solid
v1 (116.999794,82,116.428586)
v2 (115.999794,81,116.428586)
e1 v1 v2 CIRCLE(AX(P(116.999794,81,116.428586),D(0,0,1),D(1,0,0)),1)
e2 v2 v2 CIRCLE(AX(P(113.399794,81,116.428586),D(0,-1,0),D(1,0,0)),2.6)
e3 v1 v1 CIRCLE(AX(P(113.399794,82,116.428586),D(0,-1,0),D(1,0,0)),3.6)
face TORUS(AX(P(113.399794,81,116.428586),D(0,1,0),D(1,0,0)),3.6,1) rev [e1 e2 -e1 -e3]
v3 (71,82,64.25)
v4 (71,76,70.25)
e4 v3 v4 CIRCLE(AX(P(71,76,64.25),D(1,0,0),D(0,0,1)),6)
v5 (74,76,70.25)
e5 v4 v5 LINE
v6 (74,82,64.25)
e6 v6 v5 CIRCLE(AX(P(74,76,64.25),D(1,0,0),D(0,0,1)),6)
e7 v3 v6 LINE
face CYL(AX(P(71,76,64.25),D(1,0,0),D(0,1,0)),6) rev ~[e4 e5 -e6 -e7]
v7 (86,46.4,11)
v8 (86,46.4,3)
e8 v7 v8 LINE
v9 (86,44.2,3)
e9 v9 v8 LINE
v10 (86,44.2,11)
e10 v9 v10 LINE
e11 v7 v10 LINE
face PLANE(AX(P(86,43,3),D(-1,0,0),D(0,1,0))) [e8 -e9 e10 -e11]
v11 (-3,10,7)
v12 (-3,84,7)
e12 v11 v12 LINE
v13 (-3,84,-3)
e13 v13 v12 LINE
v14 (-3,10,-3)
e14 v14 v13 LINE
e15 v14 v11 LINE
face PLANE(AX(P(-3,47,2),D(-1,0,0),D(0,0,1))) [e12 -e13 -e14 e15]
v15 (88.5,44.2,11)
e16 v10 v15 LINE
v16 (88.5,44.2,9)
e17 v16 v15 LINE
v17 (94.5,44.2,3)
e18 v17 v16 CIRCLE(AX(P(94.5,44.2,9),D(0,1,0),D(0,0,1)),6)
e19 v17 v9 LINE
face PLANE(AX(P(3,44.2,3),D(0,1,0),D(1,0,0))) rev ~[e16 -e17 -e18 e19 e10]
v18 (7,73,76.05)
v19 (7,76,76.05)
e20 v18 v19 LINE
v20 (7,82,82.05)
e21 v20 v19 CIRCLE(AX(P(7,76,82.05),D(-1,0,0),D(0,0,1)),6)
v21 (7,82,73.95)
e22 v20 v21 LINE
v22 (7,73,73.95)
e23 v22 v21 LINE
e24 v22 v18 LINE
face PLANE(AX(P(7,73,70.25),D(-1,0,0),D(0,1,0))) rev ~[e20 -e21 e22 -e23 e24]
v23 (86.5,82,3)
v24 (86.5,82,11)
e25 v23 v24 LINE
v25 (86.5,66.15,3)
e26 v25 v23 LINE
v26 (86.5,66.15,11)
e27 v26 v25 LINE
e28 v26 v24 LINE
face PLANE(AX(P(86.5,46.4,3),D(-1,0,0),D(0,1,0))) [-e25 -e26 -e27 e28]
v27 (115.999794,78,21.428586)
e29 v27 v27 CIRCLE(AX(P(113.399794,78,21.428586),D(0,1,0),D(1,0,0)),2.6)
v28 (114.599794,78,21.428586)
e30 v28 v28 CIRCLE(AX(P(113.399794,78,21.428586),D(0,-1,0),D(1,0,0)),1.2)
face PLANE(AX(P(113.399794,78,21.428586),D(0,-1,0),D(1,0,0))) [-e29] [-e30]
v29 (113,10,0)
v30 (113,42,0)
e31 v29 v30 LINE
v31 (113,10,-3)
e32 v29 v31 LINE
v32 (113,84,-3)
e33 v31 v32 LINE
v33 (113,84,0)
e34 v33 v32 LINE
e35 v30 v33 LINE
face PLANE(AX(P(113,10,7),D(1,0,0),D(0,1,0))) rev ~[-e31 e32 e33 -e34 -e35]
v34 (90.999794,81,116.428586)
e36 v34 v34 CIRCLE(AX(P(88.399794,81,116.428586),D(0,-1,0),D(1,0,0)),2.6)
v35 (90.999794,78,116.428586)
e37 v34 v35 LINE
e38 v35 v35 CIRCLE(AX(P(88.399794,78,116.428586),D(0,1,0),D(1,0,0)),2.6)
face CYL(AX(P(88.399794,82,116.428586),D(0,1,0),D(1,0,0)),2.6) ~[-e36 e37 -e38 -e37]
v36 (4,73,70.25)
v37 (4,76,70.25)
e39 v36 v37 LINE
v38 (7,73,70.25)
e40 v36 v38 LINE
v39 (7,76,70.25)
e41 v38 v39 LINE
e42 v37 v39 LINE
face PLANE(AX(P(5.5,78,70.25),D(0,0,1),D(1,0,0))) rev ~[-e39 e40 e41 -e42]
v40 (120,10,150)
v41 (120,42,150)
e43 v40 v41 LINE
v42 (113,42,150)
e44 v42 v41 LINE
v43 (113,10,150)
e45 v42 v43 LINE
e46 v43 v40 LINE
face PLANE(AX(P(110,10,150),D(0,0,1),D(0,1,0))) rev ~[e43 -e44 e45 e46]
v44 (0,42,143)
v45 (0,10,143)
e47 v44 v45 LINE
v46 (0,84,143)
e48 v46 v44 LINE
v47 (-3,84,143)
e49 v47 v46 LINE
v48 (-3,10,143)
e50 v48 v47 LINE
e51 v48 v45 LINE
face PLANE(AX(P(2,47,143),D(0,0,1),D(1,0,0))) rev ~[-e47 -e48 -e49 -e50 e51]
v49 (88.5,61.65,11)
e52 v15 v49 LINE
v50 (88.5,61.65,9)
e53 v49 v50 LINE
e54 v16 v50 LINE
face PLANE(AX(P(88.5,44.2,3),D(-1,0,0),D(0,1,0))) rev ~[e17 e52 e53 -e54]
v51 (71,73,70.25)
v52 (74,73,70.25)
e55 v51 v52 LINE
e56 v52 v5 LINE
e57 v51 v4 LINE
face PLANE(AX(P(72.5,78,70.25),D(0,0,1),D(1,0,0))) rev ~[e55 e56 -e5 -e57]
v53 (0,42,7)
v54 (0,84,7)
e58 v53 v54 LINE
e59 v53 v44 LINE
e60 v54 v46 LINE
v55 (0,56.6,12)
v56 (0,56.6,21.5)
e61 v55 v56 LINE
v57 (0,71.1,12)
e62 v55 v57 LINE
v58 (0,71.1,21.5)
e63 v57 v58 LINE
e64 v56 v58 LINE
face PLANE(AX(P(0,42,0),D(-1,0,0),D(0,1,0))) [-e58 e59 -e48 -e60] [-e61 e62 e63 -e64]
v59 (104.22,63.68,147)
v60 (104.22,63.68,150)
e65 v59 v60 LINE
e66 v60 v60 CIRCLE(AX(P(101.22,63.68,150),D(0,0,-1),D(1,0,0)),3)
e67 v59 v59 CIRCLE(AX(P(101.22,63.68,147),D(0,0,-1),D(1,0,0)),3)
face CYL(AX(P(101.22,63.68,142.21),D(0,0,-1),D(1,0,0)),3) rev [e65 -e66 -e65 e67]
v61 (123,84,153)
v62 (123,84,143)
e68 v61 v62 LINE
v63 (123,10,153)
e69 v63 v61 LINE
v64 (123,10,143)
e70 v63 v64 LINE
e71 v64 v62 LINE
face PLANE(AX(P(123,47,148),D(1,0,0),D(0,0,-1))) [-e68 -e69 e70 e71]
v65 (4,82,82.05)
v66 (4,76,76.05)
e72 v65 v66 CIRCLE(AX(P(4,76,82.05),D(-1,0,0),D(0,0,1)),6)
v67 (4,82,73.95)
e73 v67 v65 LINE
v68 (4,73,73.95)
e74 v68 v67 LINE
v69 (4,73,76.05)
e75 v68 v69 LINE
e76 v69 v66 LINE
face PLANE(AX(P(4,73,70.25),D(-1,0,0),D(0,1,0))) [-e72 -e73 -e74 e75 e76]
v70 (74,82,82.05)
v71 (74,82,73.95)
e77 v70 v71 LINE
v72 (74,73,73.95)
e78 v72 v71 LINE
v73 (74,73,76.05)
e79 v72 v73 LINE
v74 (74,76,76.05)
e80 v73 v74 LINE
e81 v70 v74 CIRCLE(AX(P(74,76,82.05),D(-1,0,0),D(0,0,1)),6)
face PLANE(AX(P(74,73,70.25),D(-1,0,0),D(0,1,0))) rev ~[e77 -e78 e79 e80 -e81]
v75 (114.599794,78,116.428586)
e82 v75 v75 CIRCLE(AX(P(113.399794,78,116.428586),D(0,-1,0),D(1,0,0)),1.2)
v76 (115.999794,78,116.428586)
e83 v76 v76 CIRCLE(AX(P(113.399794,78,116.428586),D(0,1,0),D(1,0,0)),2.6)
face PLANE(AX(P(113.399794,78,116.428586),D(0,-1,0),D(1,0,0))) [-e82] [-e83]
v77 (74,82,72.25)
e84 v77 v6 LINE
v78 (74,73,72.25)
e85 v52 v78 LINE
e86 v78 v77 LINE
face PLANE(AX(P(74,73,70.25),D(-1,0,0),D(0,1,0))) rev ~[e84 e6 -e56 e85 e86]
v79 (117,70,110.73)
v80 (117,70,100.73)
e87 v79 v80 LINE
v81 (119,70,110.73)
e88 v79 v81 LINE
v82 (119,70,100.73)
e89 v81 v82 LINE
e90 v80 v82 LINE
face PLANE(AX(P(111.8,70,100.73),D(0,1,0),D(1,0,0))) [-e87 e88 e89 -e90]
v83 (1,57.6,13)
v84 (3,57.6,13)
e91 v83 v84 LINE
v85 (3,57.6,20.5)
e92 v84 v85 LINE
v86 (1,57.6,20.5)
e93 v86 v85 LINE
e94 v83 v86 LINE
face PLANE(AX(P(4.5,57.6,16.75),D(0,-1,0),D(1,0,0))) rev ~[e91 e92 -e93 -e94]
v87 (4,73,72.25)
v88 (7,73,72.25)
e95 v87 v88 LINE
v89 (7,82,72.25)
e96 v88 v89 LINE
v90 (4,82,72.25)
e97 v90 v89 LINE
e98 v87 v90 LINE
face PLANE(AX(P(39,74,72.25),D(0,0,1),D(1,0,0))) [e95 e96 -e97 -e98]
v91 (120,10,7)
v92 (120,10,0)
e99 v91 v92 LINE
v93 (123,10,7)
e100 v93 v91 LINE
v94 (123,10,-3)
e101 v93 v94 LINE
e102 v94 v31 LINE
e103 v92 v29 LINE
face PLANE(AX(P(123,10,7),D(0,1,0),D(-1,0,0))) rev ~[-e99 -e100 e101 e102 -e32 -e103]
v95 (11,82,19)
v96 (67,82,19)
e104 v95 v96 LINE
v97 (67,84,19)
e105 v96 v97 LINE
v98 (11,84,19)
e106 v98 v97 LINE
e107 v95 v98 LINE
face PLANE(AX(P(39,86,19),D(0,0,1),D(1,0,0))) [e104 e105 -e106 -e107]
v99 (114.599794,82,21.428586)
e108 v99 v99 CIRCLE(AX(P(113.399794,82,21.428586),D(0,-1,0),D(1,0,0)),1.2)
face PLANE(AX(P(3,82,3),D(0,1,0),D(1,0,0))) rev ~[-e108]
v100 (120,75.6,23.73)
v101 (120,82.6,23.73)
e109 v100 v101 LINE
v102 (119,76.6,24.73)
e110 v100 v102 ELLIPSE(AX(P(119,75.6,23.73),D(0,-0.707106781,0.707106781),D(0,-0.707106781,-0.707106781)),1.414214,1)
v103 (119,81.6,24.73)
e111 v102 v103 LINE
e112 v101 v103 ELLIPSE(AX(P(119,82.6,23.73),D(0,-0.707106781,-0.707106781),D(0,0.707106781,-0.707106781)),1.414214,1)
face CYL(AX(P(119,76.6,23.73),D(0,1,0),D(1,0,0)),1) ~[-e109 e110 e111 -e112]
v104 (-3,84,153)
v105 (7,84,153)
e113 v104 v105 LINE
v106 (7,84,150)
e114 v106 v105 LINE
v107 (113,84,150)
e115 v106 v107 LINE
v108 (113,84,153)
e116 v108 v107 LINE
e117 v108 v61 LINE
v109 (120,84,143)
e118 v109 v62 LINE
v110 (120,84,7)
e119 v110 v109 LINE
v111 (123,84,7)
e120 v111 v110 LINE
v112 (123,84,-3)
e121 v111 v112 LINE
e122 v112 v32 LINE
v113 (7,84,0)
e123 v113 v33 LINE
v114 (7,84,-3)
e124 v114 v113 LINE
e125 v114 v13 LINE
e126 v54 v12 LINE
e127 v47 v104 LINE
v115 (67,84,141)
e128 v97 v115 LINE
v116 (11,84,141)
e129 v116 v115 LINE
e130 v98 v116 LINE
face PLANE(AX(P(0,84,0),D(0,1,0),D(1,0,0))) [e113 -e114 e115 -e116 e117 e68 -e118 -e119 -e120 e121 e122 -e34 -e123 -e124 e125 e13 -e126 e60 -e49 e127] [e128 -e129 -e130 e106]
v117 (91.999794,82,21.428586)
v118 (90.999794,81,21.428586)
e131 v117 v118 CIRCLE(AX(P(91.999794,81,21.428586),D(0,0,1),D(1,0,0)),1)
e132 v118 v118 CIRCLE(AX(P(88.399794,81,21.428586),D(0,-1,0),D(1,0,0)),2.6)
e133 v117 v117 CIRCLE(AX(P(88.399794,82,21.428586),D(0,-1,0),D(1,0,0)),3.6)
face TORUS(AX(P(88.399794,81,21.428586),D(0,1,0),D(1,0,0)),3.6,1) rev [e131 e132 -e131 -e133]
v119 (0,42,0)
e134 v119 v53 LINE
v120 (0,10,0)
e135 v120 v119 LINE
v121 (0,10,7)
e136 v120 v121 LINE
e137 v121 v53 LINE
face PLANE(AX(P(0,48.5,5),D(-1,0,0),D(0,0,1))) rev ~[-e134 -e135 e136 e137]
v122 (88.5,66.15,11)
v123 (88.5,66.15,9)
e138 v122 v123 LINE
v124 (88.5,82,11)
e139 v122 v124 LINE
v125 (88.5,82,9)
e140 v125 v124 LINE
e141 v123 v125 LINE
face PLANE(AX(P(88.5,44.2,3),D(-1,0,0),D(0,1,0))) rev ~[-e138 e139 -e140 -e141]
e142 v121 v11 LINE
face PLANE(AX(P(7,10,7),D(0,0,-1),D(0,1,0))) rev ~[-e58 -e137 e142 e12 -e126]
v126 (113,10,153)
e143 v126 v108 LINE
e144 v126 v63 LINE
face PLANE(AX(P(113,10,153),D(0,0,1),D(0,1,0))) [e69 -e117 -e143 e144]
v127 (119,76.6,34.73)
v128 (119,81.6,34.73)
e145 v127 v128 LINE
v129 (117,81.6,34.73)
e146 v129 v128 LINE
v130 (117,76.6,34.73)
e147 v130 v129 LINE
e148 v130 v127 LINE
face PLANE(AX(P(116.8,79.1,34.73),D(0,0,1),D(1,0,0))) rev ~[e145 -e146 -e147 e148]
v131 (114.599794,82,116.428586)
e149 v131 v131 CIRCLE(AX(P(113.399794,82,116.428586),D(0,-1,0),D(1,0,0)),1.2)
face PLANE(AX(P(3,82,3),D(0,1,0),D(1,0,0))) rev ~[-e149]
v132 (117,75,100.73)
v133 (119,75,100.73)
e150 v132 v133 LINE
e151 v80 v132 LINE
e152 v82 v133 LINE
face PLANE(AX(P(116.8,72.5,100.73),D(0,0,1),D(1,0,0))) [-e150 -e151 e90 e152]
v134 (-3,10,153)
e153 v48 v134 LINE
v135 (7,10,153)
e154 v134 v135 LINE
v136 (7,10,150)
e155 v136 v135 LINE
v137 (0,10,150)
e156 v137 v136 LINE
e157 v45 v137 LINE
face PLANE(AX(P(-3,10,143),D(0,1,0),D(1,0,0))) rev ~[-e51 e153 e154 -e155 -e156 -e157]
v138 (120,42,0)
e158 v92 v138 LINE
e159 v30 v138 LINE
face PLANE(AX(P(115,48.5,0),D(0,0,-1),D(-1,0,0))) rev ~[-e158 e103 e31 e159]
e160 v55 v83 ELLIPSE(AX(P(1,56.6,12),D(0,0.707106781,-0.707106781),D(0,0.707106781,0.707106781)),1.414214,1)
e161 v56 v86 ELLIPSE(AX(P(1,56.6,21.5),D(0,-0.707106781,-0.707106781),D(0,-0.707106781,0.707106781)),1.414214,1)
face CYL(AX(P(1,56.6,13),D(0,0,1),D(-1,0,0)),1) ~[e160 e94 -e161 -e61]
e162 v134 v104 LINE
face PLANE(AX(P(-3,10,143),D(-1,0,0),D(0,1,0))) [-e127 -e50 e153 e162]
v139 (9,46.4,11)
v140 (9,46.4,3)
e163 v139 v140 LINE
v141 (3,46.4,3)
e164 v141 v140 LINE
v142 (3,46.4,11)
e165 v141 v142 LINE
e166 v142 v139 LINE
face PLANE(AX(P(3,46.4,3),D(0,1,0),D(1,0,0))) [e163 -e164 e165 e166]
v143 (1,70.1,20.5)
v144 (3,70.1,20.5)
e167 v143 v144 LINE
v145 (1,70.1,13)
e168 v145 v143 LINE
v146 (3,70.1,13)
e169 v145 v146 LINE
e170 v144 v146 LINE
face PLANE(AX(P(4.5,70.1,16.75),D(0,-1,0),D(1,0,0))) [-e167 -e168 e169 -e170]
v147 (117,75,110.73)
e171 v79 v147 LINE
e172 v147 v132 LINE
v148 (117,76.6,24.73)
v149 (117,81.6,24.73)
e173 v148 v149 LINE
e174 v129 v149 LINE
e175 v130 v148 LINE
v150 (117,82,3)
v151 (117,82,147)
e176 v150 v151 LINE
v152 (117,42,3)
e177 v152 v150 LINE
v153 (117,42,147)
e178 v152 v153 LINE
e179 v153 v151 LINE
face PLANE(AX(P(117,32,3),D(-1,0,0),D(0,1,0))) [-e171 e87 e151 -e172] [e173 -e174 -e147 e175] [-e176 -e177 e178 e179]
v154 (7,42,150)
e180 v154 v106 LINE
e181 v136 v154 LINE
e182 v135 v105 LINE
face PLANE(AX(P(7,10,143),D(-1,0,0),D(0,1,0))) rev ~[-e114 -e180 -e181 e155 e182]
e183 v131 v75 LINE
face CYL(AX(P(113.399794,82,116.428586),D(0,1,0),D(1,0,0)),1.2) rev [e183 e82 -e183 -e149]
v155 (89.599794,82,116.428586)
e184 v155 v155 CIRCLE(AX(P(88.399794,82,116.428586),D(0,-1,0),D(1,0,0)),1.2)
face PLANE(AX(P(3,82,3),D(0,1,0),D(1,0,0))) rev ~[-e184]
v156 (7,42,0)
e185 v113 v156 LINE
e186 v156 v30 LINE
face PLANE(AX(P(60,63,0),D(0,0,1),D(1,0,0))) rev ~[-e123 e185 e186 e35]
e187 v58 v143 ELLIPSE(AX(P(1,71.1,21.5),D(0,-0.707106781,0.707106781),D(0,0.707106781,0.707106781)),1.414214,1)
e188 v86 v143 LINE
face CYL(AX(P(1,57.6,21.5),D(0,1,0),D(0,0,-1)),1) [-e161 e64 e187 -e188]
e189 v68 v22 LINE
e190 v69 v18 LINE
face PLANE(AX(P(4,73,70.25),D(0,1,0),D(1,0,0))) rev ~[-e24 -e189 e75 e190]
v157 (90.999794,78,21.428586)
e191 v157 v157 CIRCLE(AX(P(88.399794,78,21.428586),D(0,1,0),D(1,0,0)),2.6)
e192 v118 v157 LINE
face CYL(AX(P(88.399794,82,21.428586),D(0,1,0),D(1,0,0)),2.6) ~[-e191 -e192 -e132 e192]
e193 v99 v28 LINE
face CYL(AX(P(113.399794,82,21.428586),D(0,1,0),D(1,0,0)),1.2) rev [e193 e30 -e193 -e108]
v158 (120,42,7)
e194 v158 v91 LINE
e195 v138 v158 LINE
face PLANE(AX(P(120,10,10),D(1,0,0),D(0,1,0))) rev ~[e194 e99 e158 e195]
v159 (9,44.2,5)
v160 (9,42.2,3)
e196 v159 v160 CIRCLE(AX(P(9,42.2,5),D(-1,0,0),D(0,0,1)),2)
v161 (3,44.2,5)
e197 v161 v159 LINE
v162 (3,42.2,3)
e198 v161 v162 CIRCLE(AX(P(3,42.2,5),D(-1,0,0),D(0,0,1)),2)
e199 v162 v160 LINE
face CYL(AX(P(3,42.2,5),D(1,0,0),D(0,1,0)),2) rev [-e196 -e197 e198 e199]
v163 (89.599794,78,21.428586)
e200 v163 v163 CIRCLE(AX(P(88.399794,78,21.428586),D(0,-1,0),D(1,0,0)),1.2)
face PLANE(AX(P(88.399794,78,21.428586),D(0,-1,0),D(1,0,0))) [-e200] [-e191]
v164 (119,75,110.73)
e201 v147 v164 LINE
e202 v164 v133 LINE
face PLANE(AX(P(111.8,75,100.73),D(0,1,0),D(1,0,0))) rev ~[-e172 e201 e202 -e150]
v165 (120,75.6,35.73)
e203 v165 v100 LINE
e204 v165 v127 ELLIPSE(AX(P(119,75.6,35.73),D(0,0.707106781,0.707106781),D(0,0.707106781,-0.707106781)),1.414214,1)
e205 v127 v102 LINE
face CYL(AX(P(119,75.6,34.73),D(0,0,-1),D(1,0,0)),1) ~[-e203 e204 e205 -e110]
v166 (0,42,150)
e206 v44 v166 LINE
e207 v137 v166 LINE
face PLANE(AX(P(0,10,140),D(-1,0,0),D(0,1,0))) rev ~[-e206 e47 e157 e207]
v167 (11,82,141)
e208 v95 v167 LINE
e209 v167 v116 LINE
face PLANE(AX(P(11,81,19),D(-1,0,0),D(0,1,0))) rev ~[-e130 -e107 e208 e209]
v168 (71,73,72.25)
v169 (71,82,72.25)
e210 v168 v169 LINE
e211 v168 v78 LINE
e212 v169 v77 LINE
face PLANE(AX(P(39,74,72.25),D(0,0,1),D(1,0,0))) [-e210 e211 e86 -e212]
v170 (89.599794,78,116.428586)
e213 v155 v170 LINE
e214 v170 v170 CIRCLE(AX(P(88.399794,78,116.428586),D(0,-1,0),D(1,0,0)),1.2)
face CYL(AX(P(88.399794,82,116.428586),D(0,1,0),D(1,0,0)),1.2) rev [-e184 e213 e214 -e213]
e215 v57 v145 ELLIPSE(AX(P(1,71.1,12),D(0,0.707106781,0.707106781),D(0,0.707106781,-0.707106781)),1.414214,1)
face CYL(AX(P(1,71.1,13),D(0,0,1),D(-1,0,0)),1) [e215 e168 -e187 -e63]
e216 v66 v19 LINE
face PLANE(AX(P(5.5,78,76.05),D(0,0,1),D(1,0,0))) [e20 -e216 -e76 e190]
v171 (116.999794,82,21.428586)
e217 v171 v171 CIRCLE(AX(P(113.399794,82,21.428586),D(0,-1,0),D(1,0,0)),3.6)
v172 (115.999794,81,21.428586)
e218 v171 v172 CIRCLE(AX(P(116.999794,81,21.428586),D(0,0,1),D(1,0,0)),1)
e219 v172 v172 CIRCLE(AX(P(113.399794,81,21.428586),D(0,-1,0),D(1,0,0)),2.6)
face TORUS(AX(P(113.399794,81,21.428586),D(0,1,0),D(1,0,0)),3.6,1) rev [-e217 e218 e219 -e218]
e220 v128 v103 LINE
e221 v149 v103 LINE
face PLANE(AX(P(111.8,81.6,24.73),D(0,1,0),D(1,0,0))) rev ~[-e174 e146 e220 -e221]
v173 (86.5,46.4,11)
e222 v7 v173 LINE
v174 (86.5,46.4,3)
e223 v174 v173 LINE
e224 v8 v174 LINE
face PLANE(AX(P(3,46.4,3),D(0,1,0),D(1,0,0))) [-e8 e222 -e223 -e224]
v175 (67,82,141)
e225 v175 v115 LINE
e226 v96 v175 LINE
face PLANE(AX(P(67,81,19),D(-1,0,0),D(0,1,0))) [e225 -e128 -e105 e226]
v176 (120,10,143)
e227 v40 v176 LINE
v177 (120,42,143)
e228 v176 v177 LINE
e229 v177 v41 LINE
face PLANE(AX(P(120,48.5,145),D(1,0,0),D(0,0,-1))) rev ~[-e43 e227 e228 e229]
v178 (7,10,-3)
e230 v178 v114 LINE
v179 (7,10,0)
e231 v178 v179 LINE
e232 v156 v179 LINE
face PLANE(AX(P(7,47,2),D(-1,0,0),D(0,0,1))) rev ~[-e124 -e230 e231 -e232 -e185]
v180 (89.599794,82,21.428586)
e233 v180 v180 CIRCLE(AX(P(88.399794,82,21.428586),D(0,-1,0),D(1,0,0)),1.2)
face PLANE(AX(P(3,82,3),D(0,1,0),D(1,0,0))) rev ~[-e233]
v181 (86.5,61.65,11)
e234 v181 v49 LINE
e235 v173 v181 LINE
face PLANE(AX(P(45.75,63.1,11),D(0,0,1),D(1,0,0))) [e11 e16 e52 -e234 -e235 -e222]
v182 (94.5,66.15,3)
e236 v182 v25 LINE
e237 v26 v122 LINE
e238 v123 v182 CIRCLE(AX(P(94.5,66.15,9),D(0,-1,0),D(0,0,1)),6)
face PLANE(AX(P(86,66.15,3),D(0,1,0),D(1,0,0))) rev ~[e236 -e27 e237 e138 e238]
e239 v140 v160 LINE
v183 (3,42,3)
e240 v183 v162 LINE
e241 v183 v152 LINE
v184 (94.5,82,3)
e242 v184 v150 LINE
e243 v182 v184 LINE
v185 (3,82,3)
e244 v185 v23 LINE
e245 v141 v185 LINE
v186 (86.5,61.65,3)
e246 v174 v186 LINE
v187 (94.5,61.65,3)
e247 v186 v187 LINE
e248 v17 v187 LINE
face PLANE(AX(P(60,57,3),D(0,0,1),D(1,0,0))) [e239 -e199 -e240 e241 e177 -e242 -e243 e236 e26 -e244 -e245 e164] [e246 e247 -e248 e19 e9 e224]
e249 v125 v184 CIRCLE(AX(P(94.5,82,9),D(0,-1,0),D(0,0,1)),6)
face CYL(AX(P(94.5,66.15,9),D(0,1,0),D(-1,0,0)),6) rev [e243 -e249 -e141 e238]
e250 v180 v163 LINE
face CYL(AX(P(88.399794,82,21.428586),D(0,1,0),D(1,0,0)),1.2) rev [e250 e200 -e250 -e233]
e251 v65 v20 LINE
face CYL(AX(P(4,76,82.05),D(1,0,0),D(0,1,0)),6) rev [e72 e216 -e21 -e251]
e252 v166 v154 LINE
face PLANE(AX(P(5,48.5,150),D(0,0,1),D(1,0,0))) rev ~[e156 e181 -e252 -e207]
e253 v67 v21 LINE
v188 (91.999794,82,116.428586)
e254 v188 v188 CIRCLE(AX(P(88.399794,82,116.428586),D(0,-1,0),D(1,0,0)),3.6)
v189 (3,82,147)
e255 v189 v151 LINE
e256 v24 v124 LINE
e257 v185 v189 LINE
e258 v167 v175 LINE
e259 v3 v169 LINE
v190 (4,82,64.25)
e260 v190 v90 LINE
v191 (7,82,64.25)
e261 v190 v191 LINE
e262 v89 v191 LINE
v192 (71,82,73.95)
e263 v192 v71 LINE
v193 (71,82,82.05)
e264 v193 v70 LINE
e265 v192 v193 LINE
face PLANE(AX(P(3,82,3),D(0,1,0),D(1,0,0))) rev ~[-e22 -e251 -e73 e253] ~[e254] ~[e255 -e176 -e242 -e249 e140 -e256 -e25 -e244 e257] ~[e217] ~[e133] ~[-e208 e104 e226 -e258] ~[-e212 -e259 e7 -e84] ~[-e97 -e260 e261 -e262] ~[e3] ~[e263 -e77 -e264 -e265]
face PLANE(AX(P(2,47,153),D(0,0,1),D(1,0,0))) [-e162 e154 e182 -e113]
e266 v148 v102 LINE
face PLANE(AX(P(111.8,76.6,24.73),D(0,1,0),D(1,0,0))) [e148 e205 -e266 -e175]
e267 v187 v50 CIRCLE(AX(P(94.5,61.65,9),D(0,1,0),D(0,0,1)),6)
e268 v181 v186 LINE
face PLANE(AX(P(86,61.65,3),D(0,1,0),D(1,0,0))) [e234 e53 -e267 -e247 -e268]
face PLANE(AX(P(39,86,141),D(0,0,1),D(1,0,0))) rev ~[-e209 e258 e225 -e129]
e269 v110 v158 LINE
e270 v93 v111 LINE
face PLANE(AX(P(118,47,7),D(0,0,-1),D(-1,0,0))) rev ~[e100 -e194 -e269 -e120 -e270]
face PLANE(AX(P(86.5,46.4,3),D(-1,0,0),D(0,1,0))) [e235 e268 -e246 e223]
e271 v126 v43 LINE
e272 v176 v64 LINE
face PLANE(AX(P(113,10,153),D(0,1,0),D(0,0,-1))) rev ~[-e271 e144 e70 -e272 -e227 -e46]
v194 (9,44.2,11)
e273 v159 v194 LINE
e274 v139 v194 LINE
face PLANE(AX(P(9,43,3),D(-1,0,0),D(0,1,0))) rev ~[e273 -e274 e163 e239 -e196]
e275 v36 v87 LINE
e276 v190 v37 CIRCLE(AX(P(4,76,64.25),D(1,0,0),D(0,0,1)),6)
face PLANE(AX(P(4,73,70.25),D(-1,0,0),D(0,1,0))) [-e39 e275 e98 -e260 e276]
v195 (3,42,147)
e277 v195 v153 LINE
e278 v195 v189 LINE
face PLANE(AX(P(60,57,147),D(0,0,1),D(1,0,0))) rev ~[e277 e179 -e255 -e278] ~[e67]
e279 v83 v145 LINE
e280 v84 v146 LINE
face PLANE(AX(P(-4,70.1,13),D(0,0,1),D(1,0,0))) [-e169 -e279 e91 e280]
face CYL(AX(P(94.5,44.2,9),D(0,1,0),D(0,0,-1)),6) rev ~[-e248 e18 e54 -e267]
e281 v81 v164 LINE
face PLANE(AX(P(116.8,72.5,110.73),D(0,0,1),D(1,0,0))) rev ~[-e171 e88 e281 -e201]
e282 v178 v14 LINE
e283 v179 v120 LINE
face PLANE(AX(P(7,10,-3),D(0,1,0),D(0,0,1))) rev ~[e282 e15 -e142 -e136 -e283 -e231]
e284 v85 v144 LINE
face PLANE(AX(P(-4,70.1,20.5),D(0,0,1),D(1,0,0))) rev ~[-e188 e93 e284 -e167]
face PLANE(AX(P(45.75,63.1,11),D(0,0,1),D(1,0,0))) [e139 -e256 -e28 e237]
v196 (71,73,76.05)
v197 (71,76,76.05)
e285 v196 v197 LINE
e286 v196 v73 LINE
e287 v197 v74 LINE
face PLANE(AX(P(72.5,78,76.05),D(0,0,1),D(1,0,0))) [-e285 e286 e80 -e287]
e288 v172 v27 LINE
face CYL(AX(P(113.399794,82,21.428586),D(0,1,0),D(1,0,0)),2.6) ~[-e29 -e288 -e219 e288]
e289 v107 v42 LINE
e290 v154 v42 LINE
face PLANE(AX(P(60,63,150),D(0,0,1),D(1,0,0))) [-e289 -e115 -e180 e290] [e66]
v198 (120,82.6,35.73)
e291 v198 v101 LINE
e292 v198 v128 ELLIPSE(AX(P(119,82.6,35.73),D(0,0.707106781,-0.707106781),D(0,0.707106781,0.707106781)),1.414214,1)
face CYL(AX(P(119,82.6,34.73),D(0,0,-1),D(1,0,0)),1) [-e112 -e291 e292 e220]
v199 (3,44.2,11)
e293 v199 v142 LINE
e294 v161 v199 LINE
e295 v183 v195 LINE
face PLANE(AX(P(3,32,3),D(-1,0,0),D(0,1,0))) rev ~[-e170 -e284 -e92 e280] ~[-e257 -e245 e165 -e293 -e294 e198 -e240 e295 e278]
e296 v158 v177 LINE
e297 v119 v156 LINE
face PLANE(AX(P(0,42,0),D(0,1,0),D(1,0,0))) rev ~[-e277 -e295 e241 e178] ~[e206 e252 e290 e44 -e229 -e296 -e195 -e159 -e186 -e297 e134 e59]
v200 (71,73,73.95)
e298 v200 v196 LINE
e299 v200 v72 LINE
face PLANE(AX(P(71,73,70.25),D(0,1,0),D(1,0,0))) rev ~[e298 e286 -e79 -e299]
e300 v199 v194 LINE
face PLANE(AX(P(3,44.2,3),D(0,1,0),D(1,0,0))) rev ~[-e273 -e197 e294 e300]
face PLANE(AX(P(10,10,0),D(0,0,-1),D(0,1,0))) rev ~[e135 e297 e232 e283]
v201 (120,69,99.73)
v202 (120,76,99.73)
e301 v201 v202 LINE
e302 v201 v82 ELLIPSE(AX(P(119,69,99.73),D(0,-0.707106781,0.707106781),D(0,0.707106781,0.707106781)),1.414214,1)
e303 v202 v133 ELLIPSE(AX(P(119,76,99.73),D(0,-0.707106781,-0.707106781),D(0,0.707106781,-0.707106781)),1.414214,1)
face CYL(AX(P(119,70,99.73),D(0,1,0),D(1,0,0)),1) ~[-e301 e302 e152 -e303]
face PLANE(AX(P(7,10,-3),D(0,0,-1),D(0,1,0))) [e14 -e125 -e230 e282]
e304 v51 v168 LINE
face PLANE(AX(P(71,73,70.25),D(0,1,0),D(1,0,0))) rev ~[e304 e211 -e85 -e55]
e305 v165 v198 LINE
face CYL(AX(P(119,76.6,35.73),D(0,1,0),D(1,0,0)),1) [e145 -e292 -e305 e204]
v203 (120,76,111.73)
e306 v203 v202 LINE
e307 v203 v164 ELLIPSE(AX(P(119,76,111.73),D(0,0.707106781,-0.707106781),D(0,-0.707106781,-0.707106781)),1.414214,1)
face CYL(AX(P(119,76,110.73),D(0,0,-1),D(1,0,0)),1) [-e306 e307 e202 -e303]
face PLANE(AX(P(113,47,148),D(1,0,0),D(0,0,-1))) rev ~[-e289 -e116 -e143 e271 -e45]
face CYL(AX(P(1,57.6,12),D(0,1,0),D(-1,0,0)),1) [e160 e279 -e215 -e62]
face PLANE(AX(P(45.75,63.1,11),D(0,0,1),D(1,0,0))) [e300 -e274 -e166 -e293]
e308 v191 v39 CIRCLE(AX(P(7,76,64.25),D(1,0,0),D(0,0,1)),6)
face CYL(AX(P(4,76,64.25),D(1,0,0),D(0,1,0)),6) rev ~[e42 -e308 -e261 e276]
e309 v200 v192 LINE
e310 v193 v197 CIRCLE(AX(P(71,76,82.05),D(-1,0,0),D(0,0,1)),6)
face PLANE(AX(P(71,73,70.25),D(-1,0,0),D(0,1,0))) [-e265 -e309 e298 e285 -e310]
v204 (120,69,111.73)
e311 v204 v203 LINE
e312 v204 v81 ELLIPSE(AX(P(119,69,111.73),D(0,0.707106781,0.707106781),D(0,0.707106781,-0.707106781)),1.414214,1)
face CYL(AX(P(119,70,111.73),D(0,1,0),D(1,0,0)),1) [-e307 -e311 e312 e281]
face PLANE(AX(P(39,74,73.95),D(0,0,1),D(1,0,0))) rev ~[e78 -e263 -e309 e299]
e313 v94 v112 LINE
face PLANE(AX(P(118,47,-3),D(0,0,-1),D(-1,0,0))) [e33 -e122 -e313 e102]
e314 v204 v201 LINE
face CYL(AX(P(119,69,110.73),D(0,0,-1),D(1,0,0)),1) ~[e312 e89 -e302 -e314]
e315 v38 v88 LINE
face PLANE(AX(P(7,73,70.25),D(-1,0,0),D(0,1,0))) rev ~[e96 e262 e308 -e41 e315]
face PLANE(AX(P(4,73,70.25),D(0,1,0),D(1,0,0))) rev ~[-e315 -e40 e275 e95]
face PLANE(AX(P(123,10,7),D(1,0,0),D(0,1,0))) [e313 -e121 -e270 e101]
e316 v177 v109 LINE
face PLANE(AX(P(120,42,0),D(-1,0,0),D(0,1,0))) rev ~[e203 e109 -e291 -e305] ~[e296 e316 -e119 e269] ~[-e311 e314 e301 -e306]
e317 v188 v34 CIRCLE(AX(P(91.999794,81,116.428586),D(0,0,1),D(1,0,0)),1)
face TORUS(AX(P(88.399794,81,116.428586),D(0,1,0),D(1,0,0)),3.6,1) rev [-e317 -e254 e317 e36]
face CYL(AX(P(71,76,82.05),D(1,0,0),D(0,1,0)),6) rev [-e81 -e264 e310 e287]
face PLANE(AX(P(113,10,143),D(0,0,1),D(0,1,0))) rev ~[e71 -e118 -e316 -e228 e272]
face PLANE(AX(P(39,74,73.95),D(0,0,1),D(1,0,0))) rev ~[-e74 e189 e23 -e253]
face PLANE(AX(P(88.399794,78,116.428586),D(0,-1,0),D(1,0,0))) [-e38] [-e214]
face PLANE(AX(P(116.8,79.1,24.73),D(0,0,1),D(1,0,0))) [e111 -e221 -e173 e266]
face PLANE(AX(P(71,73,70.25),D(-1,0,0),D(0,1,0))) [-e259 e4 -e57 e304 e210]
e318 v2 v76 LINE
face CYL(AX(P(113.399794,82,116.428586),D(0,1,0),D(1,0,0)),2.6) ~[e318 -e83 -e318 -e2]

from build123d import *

# Parameters (mm, degrees)
BOX053_W                  = 10
BOX053_H                  = 5
BOX053_DEPTH              = 10
BOX051_W                  = 29.6
BOX051_H                  = 2
BOX051_DEPTH              = 99.5
BOX046_W                  = 10
BOX046_H                  = 5
BOX046_DEPTH              = 10
CYLINDER005_R             = 3
CYLINDER005_DEPTH         = 10
BOX060_W                  = 56
BOX060_H                  = 10
BOX060_DEPTH              = 122
BOX050_W                  = 4
BOX050_H                  = 4.5
BOX050_DEPTH              = 8
BOX052_W                  = 17
BOX052_H                  = 7.5
BOX052_DEPTH              = 12.5
BOX044_W                  = 48.5
BOX044_H                  = 4.6
BOX044_DEPTH              = 25.5
FUSION016_PLACEMENT_ANGLE = 90
BOX048_W                  = 83.5
BOX048_H                  = 35.6
BOX048_DEPTH              = 8
BOX042_W                  = 114
BOX042_H                  = 50
BOX042_DEPTH              = 144
BOX041_W                  = 120
BOX041_H                  = 42
BOX041_DEPTH              = 150
BOX056_W                  = 72
BOX056_H                  = 18
BOX056_DEPTH              = 1.7
BOX047_W                  = 3
BOX047_H                  = 10
BOX047_DEPTH              = 5.8
ARRAY008_X_COUNT          = 2
ARRAY008_X_PITCH          = 67
BOX049_W                  = 77
BOX049_H                  = 10
BOX049_DEPTH              = 10
BOX055_W                  = 85.5
BOX055_H                  = 37.8
BOX055_DEPTH              = 8
CYLINDER004_R             = 1.2
CYLINDER004_DEPTH         = 4
CYLINDER003_R             = 2.6
CYLINDER003_DEPTH         = 4
ARRAY007_X_COUNT          = 2
ARRAY007_X_PITCH          = 25
ARRAY007_Z_COUNT          = 2
ARRAY007_Z_PITCH          = 95
BOX057_W                  = 10
BOX057_H                  = 77
BOX057_DEPTH              = 10
BOX045_W                  = 10
BOX045_H                  = 74
BOX045_DEPTH              = 10
CUT029_PLACEMENT_ANGLE    = 90
BOX058_W                  = 10
BOX058_H                  = 77
BOX058_DEPTH              = 10
BOX061_W                  = 10
BOX061_H                  = 74
BOX061_DEPTH              = 10
CUT028_PLACEMENT_ANGLE    = 90
BOX062_W                  = 10
BOX062_H                  = 77
BOX062_DEPTH              = 10
BOX059_W                  = 10
BOX059_H                  = 74
BOX059_DEPTH              = 10
CUT027_PLACEMENT_ANGLE    = 180
BOX054_W                  = 10
BOX054_H                  = 77
BOX054_DEPTH              = 10
BOX043_W                  = 10
BOX043_H                  = 74
BOX043_DEPTH              = 10
FILLET003_1_R             = 6
FILLET003_2_R             = 2
FILLET003_3_R             = 1


with BuildPart() as on_off001:
    # Box053 → Box053 (new body)
    with BuildSketch(Plane(origin=(26, -6, 81.5), x_dir=(1, 0, 0), z_dir=(0, 0, 1))):
        with Locations((5, 2.5)):
            Rectangle(BOX053_W, BOX053_H)
    extrude(amount=BOX053_DEPTH)


with BuildPart() as base_pilas001:
    # Box051 → Box051 (new body)
    with BuildSketch(Plane.XY):
        with Locations((14.8, 1)):
            Rectangle(BOX051_W, BOX051_H)
    extrude(amount=BOX051_DEPTH)


with BuildPart() as portapilas001:
    # Box046 → Box046 (new body)
    with BuildSketch(Plane(origin=(26, 0.6, 5.5), x_dir=(1, 0, 0), z_dir=(0, 0, 1))):
        with Locations((5, 2.5)):
            Rectangle(BOX046_W, BOX046_H)
    extrude(amount=BOX046_DEPTH)

    # Fusion017: union on_off001, base_pilas001
    add(on_off001.part)
    add(base_pilas001.part)


with BuildPart() as portapilas001_1:
    # Fusion017 placement: moved
    add(portapilas001.part.moved(Location((85.8, 76, 19.23))))


with BuildPart() as entrada_switch_on_off:
    # Cylinder005 → Cylinder005 (new body)
    with BuildSketch(Plane(origin=(101.22, 63.68, 142.21), x_dir=(1, 0, 0), z_dir=(0, 0, 1))):
        Circle(CYLINDER005_R)
    extrude(amount=CYLINDER005_DEPTH)


with BuildPart() as tapa_trasera:
    # Box060 → Box060 (new body)
    with BuildSketch(Plane(origin=(11, 81, 19), x_dir=(1, 0, 0), z_dir=(0, 0, 1))):
        with Locations((28, 5)):
            Rectangle(BOX060_W, BOX060_H)
    extrude(amount=BOX060_DEPTH)


with BuildPart() as salida_proto002:
    # Box050 → Box050 (new body)
    with BuildSketch(Plane(origin=(83, 15.25, 0), x_dir=(1, 0, 0), z_dir=(0, 0, 1))):
        with Locations((2, 2.25)):
            Rectangle(BOX050_W, BOX050_H)
    extrude(amount=BOX050_DEPTH)


with BuildPart() as cubo029:
    # Box052 → Box052 (new body)
    with BuildSketch(Plane(origin=(-7, 2.4, 6.55), x_dir=(1, 0, 0), z_dir=(0, 0, 1))):
        with Locations((8.5, 3.75)):
            Rectangle(BOX052_W, BOX052_H)
    extrude(amount=BOX052_DEPTH)


with BuildPart() as nodemcu001:
    # Box044 → Box044 (new body)
    with BuildSketch(Plane(origin=(0, 0.4, 0), x_dir=(1, 0, 0), z_dir=(0, 0, 1))):
        with Locations((24.25, 2.3)):
            Rectangle(BOX044_W, BOX044_H)
    extrude(amount=BOX044_DEPTH)

    # Fusion016: union Cubo029
    add(cubo029.part)


with BuildPart() as nodemcu001_1:
    # Fusion016 placement: moved
    add(nodemcu001.part.moved(Location((0, 30.25, 7.6))).rotate(Axis((0, 30.25, 7.6), (1, 0, 0)), FUSION016_PLACEMENT_ANGLE))


with BuildPart() as fusion013:
    # Box048 → Box048 (new body)
    with BuildSketch(Plane.XY):
        with Locations((41.75, 17.8)):
            Rectangle(BOX048_W, BOX048_H)
    extrude(amount=BOX048_DEPTH)

    # Fusion014: union salida_proto002, nodemcu001
    add(salida_proto002.part)
    add(nodemcu001_1.part)


with BuildPart() as fusion013_1:
    # Fusion014 placement: moved
    add(fusion013.part.moved(Location((3, 46.4, 3))))

    # Fusion013: union portapilas001, Entrada_switch_on_off, tapa_trasera
    add(portapilas001_1.part)
    add(entrada_switch_on_off.part)
    add(tapa_trasera.part)


with BuildPart() as cubo023:
    # Box042 → Box042 (new body)
    with BuildSketch(Plane(origin=(3, 32, 3), x_dir=(1, 0, 0), z_dir=(0, 0, 1))):
        with Locations((57, 25)):
            Rectangle(BOX042_W, BOX042_H)
    extrude(amount=BOX042_DEPTH)


with BuildPart() as cut024:
    # Box041 → Box041 (new body)
    with BuildSketch(Plane(origin=(0, 42, 0), x_dir=(1, 0, 0), z_dir=(0, 0, 1))):
        with Locations((60, 21)):
            Rectangle(BOX041_W, BOX041_H)
    extrude(amount=BOX041_DEPTH)

    # Cut024: cut Cubo023
    add(cubo023.part, mode=Mode.SUBTRACT)


with BuildPart() as leds002:
    # Box056 → Box056 (new body)
    with BuildSketch(Plane(origin=(-1, 0, 2), x_dir=(1, 0, 0), z_dir=(0, 0, 1))):
        with Locations((36, 9)):
            Rectangle(BOX056_W, BOX056_H)
    extrude(amount=BOX056_DEPTH)


with BuildPart() as soporte_placa_leds001:
    # Box047 → Box047 (new body)
    with BuildSketch(Plane(origin=(0, 8, 0), x_dir=(1, 0, 0), z_dir=(0, 0, 1))):
        with Locations((1.5, 5)):
            Rectangle(BOX047_W, BOX047_H)
    extrude(amount=BOX047_DEPTH)

    # Array008 X: soporte_placa_leds001 ×2


with BuildPart() as soporte_placa_leds001_1:
    add(soporte_placa_leds001.part)
    with Locations(*[(i * ARRAY008_X_PITCH, 0, 0) for i in range(1, ARRAY008_X_COUNT)]):
        add(soporte_placa_leds001.part)

    # Cut023: cut leds002
    add(leds002.part, mode=Mode.SUBTRACT)


with BuildPart() as soporte_placa_leds001_2:
    # Cut023 placement: moved
    add(soporte_placa_leds001_1.part.moved(Location((4, 65, 70.25))))


with BuildPart() as cubo028:
    # Box049 → Box049 (new body)
    with BuildSketch(Plane(origin=(9, 43, 3), x_dir=(1, 0, 0), z_dir=(0, 0, 1))):
        with Locations((38.5, 5)):
            Rectangle(BOX049_W, BOX049_H)
    extrude(amount=BOX049_DEPTH)


with BuildPart() as baseproto001:
    # Box055 → Box055 (new body)
    with BuildSketch(Plane(origin=(3, 44.2, 3), x_dir=(1, 0, 0), z_dir=(0, 0, 1))):
        with Locations((42.75, 18.9)):
            Rectangle(BOX055_W, BOX055_H)
    extrude(amount=BOX055_DEPTH)

    # Cut030: cut Cubo028
    add(cubo028.part, mode=Mode.SUBTRACT)


with BuildPart() as cilindro004:
    # Cylinder004 → Cylinder004 (new body)
    with BuildSketch(Plane(origin=(2.6, 0, 2.6), x_dir=(1, 0, 0), z_dir=(0, -1, 0))):
        Circle(CYLINDER004_R)
    extrude(amount=CYLINDER004_DEPTH)


with BuildPart() as tornillos_portapilas:
    # Cylinder003 → Cylinder003 (new body)
    with BuildSketch(Plane(origin=(2.6, 0, 2.6), x_dir=(1, 0, 0), z_dir=(0, -1, 0))):
        Circle(CYLINDER003_R)
    extrude(amount=CYLINDER003_DEPTH)

    # Cut025: cut Cilindro004
    add(cilindro004.part, mode=Mode.SUBTRACT)


with BuildPart() as tornillos_portapilas_1:
    # Cut025 placement: moved
    add(tornillos_portapilas.part.moved(Location((31.199794, 82, -20.171414))))

    # Array007 X: tornillos_portapilas ×2


with BuildPart() as tornillos_portapilas_2:
    add(tornillos_portapilas_1.part)
    with Locations(*[(i * ARRAY007_X_PITCH, 0, 0) for i in range(1, ARRAY007_X_COUNT)]):
        add(tornillos_portapilas_1.part)

    # Array007 Z: tornillos_portapilas ×2


with BuildPart() as tornillos_portapilas_3:
    add(tornillos_portapilas_2.part)
    with Locations(*[(0, 0, i * ARRAY007_Z_PITCH) for i in range(1, ARRAY007_Z_COUNT)]):
        add(tornillos_portapilas_2.part)


with BuildPart() as tornillos_portapilas_4:
    # Array007 placement: moved
    add(tornillos_portapilas_3.part.moved(Location((54.6, 0, 39))))


with BuildPart() as cubo031:
    # Box057 → Box057 (new body)
    with BuildSketch(Plane(origin=(0, 10, 140), x_dir=(1, 0, 0), z_dir=(0, 0, 1))):
        with Locations((5, 38.5)):
            Rectangle(BOX057_W, BOX057_H)
    extrude(amount=BOX057_DEPTH)


with BuildPart() as cut029:
    # Box045 → Box045 (new body)
    with BuildSketch(Plane(origin=(-3, 10, 143), x_dir=(1, 0, 0), z_dir=(0, 0, 1))):
        with Locations((5, 37)):
            Rectangle(BOX045_W, BOX045_H)
    extrude(amount=BOX045_DEPTH)

    # Cut029: cut Cubo031
    add(cubo031.part, mode=Mode.SUBTRACT)


with BuildPart() as cut029_1:
    # Cut029 placement: moved
    add(cut029.part.moved(Location((-30, 0, 150))).rotate(Axis((-30, 0, 150), (0, 1, 0)), CUT029_PLACEMENT_ANGLE))


with BuildPart() as cubo032:
    # Box058 → Box058 (new body)
    with BuildSketch(Plane(origin=(0, 10, 140), x_dir=(1, 0, 0), z_dir=(0, 0, 1))):
        with Locations((5, 38.5)):
            Rectangle(BOX058_W, BOX058_H)
    extrude(amount=BOX058_DEPTH)


with BuildPart() as cut028:
    # Box061 → Box061 (new body)
    with BuildSketch(Plane(origin=(-3, 10, 143), x_dir=(1, 0, 0), z_dir=(0, 0, 1))):
        with Locations((5, 37)):
            Rectangle(BOX061_W, BOX061_H)
    extrude(amount=BOX061_DEPTH)

    # Cut028: cut Cubo032
    add(cubo032.part, mode=Mode.SUBTRACT)


with BuildPart() as cut028_1:
    # Cut028 placement: moved
    add(cut028.part.moved(Location((150, 0, 0))).rotate(Axis((150, 0, 0), (0, -1, 0)), CUT028_PLACEMENT_ANGLE))


with BuildPart() as cubo035:
    # Box062 → Box062 (new body)
    with BuildSketch(Plane(origin=(0, 10, 140), x_dir=(1, 0, 0), z_dir=(0, 0, 1))):
        with Locations((5, 38.5)):
            Rectangle(BOX062_W, BOX062_H)
    extrude(amount=BOX062_DEPTH)


with BuildPart() as cut027:
    # Box059 → Box059 (new body)
    with BuildSketch(Plane(origin=(-3, 10, 143), x_dir=(1, 0, 0), z_dir=(0, 0, 1))):
        with Locations((5, 37)):
            Rectangle(BOX059_W, BOX059_H)
    extrude(amount=BOX059_DEPTH)

    # Cut027: cut Cubo035
    add(cubo035.part, mode=Mode.SUBTRACT)


with BuildPart() as cut027_1:
    # Cut027 placement: moved
    add(cut027.part.moved(Location((120, 0, 150))).rotate(Axis((120, 0, 150), (0, 1, 0)), CUT027_PLACEMENT_ANGLE))


with BuildPart() as cubo030:
    # Box054 → Box054 (new body)
    with BuildSketch(Plane(origin=(0, 10, 140), x_dir=(1, 0, 0), z_dir=(0, 0, 1))):
        with Locations((5, 38.5)):
            Rectangle(BOX054_W, BOX054_H)
    extrude(amount=BOX054_DEPTH)


with BuildPart() as closet_bottom_generic:
    # Box043 → Box043 (new body)
    with BuildSketch(Plane(origin=(-3, 10, 143), x_dir=(1, 0, 0), z_dir=(0, 0, 1))):
        with Locations((5, 37)):
            Rectangle(BOX043_W, BOX043_H)
    extrude(amount=BOX043_DEPTH)

    # Cut026: cut Cubo030
    add(cubo030.part, mode=Mode.SUBTRACT)

    # Fusion015: union Cut029, Cut028, Cut027
    add(cut029_1.part)
    add(cut028_1.part)
    add(cut027_1.part)

    # Fusion012: union Cut024, soporte_placa_leds001, baseProto001, tornillos_portapilas
    add(cut024.part)
    add(soporte_placa_leds001_2.part)
    add(baseproto001.part)
    add(tornillos_portapilas_4.part)

    # Cut022: cut Fusion013
    add(fusion013_1.part, mode=Mode.SUBTRACT)

    # Fillet003 1
    fillet003_1_edges = [closet_bottom_generic.edges().sort_by_distance(p)[0] for p in [
        (88.5, 52.925, 3),
        (88.5, 74.075, 3),
        (5.5, 82, 70.25),
        (5.5, 82, 76.05),
        (72.5, 82, 70.25),
        (72.5, 82, 76.05),
    ]]
    fillet(fillet003_1_edges, radius=FILLET003_1_R)

    # Fillet003 2
    fillet003_2_edges = [closet_bottom_generic.edges().sort_by_distance(p)[0] for p in [
        (6, 44.2, 3),
    ]]
    fillet(fillet003_2_edges, radius=FILLET003_2_R)

    # Fillet003 3
    fillet003_3_edges = [closet_bottom_generic.edges().sort_by_distance(p)[0] for p in [
        (0, 57.6, 16.75),
        (0, 63.85, 13),
        (0, 70.1, 16.75),
        (0, 63.85, 20.5),
        (120, 79.1, 34.73),
        (120, 76.6, 29.73),
        (120, 79.1, 24.73),
        (120, 81.6, 29.73),
        (120, 72.5, 100.73),
        (120, 75, 105.73),
        (120, 72.5, 110.73),
        (120, 70, 105.73),
        (85.799794, 82, 21.428586),
        (110.799794, 82, 21.428586),
        (85.799794, 82, 116.428586),
        (110.799794, 82, 116.428586),
    ]]
    fillet(fillet003_3_edges, radius=FILLET003_3_R)


solid = closet_bottom_generic.part
